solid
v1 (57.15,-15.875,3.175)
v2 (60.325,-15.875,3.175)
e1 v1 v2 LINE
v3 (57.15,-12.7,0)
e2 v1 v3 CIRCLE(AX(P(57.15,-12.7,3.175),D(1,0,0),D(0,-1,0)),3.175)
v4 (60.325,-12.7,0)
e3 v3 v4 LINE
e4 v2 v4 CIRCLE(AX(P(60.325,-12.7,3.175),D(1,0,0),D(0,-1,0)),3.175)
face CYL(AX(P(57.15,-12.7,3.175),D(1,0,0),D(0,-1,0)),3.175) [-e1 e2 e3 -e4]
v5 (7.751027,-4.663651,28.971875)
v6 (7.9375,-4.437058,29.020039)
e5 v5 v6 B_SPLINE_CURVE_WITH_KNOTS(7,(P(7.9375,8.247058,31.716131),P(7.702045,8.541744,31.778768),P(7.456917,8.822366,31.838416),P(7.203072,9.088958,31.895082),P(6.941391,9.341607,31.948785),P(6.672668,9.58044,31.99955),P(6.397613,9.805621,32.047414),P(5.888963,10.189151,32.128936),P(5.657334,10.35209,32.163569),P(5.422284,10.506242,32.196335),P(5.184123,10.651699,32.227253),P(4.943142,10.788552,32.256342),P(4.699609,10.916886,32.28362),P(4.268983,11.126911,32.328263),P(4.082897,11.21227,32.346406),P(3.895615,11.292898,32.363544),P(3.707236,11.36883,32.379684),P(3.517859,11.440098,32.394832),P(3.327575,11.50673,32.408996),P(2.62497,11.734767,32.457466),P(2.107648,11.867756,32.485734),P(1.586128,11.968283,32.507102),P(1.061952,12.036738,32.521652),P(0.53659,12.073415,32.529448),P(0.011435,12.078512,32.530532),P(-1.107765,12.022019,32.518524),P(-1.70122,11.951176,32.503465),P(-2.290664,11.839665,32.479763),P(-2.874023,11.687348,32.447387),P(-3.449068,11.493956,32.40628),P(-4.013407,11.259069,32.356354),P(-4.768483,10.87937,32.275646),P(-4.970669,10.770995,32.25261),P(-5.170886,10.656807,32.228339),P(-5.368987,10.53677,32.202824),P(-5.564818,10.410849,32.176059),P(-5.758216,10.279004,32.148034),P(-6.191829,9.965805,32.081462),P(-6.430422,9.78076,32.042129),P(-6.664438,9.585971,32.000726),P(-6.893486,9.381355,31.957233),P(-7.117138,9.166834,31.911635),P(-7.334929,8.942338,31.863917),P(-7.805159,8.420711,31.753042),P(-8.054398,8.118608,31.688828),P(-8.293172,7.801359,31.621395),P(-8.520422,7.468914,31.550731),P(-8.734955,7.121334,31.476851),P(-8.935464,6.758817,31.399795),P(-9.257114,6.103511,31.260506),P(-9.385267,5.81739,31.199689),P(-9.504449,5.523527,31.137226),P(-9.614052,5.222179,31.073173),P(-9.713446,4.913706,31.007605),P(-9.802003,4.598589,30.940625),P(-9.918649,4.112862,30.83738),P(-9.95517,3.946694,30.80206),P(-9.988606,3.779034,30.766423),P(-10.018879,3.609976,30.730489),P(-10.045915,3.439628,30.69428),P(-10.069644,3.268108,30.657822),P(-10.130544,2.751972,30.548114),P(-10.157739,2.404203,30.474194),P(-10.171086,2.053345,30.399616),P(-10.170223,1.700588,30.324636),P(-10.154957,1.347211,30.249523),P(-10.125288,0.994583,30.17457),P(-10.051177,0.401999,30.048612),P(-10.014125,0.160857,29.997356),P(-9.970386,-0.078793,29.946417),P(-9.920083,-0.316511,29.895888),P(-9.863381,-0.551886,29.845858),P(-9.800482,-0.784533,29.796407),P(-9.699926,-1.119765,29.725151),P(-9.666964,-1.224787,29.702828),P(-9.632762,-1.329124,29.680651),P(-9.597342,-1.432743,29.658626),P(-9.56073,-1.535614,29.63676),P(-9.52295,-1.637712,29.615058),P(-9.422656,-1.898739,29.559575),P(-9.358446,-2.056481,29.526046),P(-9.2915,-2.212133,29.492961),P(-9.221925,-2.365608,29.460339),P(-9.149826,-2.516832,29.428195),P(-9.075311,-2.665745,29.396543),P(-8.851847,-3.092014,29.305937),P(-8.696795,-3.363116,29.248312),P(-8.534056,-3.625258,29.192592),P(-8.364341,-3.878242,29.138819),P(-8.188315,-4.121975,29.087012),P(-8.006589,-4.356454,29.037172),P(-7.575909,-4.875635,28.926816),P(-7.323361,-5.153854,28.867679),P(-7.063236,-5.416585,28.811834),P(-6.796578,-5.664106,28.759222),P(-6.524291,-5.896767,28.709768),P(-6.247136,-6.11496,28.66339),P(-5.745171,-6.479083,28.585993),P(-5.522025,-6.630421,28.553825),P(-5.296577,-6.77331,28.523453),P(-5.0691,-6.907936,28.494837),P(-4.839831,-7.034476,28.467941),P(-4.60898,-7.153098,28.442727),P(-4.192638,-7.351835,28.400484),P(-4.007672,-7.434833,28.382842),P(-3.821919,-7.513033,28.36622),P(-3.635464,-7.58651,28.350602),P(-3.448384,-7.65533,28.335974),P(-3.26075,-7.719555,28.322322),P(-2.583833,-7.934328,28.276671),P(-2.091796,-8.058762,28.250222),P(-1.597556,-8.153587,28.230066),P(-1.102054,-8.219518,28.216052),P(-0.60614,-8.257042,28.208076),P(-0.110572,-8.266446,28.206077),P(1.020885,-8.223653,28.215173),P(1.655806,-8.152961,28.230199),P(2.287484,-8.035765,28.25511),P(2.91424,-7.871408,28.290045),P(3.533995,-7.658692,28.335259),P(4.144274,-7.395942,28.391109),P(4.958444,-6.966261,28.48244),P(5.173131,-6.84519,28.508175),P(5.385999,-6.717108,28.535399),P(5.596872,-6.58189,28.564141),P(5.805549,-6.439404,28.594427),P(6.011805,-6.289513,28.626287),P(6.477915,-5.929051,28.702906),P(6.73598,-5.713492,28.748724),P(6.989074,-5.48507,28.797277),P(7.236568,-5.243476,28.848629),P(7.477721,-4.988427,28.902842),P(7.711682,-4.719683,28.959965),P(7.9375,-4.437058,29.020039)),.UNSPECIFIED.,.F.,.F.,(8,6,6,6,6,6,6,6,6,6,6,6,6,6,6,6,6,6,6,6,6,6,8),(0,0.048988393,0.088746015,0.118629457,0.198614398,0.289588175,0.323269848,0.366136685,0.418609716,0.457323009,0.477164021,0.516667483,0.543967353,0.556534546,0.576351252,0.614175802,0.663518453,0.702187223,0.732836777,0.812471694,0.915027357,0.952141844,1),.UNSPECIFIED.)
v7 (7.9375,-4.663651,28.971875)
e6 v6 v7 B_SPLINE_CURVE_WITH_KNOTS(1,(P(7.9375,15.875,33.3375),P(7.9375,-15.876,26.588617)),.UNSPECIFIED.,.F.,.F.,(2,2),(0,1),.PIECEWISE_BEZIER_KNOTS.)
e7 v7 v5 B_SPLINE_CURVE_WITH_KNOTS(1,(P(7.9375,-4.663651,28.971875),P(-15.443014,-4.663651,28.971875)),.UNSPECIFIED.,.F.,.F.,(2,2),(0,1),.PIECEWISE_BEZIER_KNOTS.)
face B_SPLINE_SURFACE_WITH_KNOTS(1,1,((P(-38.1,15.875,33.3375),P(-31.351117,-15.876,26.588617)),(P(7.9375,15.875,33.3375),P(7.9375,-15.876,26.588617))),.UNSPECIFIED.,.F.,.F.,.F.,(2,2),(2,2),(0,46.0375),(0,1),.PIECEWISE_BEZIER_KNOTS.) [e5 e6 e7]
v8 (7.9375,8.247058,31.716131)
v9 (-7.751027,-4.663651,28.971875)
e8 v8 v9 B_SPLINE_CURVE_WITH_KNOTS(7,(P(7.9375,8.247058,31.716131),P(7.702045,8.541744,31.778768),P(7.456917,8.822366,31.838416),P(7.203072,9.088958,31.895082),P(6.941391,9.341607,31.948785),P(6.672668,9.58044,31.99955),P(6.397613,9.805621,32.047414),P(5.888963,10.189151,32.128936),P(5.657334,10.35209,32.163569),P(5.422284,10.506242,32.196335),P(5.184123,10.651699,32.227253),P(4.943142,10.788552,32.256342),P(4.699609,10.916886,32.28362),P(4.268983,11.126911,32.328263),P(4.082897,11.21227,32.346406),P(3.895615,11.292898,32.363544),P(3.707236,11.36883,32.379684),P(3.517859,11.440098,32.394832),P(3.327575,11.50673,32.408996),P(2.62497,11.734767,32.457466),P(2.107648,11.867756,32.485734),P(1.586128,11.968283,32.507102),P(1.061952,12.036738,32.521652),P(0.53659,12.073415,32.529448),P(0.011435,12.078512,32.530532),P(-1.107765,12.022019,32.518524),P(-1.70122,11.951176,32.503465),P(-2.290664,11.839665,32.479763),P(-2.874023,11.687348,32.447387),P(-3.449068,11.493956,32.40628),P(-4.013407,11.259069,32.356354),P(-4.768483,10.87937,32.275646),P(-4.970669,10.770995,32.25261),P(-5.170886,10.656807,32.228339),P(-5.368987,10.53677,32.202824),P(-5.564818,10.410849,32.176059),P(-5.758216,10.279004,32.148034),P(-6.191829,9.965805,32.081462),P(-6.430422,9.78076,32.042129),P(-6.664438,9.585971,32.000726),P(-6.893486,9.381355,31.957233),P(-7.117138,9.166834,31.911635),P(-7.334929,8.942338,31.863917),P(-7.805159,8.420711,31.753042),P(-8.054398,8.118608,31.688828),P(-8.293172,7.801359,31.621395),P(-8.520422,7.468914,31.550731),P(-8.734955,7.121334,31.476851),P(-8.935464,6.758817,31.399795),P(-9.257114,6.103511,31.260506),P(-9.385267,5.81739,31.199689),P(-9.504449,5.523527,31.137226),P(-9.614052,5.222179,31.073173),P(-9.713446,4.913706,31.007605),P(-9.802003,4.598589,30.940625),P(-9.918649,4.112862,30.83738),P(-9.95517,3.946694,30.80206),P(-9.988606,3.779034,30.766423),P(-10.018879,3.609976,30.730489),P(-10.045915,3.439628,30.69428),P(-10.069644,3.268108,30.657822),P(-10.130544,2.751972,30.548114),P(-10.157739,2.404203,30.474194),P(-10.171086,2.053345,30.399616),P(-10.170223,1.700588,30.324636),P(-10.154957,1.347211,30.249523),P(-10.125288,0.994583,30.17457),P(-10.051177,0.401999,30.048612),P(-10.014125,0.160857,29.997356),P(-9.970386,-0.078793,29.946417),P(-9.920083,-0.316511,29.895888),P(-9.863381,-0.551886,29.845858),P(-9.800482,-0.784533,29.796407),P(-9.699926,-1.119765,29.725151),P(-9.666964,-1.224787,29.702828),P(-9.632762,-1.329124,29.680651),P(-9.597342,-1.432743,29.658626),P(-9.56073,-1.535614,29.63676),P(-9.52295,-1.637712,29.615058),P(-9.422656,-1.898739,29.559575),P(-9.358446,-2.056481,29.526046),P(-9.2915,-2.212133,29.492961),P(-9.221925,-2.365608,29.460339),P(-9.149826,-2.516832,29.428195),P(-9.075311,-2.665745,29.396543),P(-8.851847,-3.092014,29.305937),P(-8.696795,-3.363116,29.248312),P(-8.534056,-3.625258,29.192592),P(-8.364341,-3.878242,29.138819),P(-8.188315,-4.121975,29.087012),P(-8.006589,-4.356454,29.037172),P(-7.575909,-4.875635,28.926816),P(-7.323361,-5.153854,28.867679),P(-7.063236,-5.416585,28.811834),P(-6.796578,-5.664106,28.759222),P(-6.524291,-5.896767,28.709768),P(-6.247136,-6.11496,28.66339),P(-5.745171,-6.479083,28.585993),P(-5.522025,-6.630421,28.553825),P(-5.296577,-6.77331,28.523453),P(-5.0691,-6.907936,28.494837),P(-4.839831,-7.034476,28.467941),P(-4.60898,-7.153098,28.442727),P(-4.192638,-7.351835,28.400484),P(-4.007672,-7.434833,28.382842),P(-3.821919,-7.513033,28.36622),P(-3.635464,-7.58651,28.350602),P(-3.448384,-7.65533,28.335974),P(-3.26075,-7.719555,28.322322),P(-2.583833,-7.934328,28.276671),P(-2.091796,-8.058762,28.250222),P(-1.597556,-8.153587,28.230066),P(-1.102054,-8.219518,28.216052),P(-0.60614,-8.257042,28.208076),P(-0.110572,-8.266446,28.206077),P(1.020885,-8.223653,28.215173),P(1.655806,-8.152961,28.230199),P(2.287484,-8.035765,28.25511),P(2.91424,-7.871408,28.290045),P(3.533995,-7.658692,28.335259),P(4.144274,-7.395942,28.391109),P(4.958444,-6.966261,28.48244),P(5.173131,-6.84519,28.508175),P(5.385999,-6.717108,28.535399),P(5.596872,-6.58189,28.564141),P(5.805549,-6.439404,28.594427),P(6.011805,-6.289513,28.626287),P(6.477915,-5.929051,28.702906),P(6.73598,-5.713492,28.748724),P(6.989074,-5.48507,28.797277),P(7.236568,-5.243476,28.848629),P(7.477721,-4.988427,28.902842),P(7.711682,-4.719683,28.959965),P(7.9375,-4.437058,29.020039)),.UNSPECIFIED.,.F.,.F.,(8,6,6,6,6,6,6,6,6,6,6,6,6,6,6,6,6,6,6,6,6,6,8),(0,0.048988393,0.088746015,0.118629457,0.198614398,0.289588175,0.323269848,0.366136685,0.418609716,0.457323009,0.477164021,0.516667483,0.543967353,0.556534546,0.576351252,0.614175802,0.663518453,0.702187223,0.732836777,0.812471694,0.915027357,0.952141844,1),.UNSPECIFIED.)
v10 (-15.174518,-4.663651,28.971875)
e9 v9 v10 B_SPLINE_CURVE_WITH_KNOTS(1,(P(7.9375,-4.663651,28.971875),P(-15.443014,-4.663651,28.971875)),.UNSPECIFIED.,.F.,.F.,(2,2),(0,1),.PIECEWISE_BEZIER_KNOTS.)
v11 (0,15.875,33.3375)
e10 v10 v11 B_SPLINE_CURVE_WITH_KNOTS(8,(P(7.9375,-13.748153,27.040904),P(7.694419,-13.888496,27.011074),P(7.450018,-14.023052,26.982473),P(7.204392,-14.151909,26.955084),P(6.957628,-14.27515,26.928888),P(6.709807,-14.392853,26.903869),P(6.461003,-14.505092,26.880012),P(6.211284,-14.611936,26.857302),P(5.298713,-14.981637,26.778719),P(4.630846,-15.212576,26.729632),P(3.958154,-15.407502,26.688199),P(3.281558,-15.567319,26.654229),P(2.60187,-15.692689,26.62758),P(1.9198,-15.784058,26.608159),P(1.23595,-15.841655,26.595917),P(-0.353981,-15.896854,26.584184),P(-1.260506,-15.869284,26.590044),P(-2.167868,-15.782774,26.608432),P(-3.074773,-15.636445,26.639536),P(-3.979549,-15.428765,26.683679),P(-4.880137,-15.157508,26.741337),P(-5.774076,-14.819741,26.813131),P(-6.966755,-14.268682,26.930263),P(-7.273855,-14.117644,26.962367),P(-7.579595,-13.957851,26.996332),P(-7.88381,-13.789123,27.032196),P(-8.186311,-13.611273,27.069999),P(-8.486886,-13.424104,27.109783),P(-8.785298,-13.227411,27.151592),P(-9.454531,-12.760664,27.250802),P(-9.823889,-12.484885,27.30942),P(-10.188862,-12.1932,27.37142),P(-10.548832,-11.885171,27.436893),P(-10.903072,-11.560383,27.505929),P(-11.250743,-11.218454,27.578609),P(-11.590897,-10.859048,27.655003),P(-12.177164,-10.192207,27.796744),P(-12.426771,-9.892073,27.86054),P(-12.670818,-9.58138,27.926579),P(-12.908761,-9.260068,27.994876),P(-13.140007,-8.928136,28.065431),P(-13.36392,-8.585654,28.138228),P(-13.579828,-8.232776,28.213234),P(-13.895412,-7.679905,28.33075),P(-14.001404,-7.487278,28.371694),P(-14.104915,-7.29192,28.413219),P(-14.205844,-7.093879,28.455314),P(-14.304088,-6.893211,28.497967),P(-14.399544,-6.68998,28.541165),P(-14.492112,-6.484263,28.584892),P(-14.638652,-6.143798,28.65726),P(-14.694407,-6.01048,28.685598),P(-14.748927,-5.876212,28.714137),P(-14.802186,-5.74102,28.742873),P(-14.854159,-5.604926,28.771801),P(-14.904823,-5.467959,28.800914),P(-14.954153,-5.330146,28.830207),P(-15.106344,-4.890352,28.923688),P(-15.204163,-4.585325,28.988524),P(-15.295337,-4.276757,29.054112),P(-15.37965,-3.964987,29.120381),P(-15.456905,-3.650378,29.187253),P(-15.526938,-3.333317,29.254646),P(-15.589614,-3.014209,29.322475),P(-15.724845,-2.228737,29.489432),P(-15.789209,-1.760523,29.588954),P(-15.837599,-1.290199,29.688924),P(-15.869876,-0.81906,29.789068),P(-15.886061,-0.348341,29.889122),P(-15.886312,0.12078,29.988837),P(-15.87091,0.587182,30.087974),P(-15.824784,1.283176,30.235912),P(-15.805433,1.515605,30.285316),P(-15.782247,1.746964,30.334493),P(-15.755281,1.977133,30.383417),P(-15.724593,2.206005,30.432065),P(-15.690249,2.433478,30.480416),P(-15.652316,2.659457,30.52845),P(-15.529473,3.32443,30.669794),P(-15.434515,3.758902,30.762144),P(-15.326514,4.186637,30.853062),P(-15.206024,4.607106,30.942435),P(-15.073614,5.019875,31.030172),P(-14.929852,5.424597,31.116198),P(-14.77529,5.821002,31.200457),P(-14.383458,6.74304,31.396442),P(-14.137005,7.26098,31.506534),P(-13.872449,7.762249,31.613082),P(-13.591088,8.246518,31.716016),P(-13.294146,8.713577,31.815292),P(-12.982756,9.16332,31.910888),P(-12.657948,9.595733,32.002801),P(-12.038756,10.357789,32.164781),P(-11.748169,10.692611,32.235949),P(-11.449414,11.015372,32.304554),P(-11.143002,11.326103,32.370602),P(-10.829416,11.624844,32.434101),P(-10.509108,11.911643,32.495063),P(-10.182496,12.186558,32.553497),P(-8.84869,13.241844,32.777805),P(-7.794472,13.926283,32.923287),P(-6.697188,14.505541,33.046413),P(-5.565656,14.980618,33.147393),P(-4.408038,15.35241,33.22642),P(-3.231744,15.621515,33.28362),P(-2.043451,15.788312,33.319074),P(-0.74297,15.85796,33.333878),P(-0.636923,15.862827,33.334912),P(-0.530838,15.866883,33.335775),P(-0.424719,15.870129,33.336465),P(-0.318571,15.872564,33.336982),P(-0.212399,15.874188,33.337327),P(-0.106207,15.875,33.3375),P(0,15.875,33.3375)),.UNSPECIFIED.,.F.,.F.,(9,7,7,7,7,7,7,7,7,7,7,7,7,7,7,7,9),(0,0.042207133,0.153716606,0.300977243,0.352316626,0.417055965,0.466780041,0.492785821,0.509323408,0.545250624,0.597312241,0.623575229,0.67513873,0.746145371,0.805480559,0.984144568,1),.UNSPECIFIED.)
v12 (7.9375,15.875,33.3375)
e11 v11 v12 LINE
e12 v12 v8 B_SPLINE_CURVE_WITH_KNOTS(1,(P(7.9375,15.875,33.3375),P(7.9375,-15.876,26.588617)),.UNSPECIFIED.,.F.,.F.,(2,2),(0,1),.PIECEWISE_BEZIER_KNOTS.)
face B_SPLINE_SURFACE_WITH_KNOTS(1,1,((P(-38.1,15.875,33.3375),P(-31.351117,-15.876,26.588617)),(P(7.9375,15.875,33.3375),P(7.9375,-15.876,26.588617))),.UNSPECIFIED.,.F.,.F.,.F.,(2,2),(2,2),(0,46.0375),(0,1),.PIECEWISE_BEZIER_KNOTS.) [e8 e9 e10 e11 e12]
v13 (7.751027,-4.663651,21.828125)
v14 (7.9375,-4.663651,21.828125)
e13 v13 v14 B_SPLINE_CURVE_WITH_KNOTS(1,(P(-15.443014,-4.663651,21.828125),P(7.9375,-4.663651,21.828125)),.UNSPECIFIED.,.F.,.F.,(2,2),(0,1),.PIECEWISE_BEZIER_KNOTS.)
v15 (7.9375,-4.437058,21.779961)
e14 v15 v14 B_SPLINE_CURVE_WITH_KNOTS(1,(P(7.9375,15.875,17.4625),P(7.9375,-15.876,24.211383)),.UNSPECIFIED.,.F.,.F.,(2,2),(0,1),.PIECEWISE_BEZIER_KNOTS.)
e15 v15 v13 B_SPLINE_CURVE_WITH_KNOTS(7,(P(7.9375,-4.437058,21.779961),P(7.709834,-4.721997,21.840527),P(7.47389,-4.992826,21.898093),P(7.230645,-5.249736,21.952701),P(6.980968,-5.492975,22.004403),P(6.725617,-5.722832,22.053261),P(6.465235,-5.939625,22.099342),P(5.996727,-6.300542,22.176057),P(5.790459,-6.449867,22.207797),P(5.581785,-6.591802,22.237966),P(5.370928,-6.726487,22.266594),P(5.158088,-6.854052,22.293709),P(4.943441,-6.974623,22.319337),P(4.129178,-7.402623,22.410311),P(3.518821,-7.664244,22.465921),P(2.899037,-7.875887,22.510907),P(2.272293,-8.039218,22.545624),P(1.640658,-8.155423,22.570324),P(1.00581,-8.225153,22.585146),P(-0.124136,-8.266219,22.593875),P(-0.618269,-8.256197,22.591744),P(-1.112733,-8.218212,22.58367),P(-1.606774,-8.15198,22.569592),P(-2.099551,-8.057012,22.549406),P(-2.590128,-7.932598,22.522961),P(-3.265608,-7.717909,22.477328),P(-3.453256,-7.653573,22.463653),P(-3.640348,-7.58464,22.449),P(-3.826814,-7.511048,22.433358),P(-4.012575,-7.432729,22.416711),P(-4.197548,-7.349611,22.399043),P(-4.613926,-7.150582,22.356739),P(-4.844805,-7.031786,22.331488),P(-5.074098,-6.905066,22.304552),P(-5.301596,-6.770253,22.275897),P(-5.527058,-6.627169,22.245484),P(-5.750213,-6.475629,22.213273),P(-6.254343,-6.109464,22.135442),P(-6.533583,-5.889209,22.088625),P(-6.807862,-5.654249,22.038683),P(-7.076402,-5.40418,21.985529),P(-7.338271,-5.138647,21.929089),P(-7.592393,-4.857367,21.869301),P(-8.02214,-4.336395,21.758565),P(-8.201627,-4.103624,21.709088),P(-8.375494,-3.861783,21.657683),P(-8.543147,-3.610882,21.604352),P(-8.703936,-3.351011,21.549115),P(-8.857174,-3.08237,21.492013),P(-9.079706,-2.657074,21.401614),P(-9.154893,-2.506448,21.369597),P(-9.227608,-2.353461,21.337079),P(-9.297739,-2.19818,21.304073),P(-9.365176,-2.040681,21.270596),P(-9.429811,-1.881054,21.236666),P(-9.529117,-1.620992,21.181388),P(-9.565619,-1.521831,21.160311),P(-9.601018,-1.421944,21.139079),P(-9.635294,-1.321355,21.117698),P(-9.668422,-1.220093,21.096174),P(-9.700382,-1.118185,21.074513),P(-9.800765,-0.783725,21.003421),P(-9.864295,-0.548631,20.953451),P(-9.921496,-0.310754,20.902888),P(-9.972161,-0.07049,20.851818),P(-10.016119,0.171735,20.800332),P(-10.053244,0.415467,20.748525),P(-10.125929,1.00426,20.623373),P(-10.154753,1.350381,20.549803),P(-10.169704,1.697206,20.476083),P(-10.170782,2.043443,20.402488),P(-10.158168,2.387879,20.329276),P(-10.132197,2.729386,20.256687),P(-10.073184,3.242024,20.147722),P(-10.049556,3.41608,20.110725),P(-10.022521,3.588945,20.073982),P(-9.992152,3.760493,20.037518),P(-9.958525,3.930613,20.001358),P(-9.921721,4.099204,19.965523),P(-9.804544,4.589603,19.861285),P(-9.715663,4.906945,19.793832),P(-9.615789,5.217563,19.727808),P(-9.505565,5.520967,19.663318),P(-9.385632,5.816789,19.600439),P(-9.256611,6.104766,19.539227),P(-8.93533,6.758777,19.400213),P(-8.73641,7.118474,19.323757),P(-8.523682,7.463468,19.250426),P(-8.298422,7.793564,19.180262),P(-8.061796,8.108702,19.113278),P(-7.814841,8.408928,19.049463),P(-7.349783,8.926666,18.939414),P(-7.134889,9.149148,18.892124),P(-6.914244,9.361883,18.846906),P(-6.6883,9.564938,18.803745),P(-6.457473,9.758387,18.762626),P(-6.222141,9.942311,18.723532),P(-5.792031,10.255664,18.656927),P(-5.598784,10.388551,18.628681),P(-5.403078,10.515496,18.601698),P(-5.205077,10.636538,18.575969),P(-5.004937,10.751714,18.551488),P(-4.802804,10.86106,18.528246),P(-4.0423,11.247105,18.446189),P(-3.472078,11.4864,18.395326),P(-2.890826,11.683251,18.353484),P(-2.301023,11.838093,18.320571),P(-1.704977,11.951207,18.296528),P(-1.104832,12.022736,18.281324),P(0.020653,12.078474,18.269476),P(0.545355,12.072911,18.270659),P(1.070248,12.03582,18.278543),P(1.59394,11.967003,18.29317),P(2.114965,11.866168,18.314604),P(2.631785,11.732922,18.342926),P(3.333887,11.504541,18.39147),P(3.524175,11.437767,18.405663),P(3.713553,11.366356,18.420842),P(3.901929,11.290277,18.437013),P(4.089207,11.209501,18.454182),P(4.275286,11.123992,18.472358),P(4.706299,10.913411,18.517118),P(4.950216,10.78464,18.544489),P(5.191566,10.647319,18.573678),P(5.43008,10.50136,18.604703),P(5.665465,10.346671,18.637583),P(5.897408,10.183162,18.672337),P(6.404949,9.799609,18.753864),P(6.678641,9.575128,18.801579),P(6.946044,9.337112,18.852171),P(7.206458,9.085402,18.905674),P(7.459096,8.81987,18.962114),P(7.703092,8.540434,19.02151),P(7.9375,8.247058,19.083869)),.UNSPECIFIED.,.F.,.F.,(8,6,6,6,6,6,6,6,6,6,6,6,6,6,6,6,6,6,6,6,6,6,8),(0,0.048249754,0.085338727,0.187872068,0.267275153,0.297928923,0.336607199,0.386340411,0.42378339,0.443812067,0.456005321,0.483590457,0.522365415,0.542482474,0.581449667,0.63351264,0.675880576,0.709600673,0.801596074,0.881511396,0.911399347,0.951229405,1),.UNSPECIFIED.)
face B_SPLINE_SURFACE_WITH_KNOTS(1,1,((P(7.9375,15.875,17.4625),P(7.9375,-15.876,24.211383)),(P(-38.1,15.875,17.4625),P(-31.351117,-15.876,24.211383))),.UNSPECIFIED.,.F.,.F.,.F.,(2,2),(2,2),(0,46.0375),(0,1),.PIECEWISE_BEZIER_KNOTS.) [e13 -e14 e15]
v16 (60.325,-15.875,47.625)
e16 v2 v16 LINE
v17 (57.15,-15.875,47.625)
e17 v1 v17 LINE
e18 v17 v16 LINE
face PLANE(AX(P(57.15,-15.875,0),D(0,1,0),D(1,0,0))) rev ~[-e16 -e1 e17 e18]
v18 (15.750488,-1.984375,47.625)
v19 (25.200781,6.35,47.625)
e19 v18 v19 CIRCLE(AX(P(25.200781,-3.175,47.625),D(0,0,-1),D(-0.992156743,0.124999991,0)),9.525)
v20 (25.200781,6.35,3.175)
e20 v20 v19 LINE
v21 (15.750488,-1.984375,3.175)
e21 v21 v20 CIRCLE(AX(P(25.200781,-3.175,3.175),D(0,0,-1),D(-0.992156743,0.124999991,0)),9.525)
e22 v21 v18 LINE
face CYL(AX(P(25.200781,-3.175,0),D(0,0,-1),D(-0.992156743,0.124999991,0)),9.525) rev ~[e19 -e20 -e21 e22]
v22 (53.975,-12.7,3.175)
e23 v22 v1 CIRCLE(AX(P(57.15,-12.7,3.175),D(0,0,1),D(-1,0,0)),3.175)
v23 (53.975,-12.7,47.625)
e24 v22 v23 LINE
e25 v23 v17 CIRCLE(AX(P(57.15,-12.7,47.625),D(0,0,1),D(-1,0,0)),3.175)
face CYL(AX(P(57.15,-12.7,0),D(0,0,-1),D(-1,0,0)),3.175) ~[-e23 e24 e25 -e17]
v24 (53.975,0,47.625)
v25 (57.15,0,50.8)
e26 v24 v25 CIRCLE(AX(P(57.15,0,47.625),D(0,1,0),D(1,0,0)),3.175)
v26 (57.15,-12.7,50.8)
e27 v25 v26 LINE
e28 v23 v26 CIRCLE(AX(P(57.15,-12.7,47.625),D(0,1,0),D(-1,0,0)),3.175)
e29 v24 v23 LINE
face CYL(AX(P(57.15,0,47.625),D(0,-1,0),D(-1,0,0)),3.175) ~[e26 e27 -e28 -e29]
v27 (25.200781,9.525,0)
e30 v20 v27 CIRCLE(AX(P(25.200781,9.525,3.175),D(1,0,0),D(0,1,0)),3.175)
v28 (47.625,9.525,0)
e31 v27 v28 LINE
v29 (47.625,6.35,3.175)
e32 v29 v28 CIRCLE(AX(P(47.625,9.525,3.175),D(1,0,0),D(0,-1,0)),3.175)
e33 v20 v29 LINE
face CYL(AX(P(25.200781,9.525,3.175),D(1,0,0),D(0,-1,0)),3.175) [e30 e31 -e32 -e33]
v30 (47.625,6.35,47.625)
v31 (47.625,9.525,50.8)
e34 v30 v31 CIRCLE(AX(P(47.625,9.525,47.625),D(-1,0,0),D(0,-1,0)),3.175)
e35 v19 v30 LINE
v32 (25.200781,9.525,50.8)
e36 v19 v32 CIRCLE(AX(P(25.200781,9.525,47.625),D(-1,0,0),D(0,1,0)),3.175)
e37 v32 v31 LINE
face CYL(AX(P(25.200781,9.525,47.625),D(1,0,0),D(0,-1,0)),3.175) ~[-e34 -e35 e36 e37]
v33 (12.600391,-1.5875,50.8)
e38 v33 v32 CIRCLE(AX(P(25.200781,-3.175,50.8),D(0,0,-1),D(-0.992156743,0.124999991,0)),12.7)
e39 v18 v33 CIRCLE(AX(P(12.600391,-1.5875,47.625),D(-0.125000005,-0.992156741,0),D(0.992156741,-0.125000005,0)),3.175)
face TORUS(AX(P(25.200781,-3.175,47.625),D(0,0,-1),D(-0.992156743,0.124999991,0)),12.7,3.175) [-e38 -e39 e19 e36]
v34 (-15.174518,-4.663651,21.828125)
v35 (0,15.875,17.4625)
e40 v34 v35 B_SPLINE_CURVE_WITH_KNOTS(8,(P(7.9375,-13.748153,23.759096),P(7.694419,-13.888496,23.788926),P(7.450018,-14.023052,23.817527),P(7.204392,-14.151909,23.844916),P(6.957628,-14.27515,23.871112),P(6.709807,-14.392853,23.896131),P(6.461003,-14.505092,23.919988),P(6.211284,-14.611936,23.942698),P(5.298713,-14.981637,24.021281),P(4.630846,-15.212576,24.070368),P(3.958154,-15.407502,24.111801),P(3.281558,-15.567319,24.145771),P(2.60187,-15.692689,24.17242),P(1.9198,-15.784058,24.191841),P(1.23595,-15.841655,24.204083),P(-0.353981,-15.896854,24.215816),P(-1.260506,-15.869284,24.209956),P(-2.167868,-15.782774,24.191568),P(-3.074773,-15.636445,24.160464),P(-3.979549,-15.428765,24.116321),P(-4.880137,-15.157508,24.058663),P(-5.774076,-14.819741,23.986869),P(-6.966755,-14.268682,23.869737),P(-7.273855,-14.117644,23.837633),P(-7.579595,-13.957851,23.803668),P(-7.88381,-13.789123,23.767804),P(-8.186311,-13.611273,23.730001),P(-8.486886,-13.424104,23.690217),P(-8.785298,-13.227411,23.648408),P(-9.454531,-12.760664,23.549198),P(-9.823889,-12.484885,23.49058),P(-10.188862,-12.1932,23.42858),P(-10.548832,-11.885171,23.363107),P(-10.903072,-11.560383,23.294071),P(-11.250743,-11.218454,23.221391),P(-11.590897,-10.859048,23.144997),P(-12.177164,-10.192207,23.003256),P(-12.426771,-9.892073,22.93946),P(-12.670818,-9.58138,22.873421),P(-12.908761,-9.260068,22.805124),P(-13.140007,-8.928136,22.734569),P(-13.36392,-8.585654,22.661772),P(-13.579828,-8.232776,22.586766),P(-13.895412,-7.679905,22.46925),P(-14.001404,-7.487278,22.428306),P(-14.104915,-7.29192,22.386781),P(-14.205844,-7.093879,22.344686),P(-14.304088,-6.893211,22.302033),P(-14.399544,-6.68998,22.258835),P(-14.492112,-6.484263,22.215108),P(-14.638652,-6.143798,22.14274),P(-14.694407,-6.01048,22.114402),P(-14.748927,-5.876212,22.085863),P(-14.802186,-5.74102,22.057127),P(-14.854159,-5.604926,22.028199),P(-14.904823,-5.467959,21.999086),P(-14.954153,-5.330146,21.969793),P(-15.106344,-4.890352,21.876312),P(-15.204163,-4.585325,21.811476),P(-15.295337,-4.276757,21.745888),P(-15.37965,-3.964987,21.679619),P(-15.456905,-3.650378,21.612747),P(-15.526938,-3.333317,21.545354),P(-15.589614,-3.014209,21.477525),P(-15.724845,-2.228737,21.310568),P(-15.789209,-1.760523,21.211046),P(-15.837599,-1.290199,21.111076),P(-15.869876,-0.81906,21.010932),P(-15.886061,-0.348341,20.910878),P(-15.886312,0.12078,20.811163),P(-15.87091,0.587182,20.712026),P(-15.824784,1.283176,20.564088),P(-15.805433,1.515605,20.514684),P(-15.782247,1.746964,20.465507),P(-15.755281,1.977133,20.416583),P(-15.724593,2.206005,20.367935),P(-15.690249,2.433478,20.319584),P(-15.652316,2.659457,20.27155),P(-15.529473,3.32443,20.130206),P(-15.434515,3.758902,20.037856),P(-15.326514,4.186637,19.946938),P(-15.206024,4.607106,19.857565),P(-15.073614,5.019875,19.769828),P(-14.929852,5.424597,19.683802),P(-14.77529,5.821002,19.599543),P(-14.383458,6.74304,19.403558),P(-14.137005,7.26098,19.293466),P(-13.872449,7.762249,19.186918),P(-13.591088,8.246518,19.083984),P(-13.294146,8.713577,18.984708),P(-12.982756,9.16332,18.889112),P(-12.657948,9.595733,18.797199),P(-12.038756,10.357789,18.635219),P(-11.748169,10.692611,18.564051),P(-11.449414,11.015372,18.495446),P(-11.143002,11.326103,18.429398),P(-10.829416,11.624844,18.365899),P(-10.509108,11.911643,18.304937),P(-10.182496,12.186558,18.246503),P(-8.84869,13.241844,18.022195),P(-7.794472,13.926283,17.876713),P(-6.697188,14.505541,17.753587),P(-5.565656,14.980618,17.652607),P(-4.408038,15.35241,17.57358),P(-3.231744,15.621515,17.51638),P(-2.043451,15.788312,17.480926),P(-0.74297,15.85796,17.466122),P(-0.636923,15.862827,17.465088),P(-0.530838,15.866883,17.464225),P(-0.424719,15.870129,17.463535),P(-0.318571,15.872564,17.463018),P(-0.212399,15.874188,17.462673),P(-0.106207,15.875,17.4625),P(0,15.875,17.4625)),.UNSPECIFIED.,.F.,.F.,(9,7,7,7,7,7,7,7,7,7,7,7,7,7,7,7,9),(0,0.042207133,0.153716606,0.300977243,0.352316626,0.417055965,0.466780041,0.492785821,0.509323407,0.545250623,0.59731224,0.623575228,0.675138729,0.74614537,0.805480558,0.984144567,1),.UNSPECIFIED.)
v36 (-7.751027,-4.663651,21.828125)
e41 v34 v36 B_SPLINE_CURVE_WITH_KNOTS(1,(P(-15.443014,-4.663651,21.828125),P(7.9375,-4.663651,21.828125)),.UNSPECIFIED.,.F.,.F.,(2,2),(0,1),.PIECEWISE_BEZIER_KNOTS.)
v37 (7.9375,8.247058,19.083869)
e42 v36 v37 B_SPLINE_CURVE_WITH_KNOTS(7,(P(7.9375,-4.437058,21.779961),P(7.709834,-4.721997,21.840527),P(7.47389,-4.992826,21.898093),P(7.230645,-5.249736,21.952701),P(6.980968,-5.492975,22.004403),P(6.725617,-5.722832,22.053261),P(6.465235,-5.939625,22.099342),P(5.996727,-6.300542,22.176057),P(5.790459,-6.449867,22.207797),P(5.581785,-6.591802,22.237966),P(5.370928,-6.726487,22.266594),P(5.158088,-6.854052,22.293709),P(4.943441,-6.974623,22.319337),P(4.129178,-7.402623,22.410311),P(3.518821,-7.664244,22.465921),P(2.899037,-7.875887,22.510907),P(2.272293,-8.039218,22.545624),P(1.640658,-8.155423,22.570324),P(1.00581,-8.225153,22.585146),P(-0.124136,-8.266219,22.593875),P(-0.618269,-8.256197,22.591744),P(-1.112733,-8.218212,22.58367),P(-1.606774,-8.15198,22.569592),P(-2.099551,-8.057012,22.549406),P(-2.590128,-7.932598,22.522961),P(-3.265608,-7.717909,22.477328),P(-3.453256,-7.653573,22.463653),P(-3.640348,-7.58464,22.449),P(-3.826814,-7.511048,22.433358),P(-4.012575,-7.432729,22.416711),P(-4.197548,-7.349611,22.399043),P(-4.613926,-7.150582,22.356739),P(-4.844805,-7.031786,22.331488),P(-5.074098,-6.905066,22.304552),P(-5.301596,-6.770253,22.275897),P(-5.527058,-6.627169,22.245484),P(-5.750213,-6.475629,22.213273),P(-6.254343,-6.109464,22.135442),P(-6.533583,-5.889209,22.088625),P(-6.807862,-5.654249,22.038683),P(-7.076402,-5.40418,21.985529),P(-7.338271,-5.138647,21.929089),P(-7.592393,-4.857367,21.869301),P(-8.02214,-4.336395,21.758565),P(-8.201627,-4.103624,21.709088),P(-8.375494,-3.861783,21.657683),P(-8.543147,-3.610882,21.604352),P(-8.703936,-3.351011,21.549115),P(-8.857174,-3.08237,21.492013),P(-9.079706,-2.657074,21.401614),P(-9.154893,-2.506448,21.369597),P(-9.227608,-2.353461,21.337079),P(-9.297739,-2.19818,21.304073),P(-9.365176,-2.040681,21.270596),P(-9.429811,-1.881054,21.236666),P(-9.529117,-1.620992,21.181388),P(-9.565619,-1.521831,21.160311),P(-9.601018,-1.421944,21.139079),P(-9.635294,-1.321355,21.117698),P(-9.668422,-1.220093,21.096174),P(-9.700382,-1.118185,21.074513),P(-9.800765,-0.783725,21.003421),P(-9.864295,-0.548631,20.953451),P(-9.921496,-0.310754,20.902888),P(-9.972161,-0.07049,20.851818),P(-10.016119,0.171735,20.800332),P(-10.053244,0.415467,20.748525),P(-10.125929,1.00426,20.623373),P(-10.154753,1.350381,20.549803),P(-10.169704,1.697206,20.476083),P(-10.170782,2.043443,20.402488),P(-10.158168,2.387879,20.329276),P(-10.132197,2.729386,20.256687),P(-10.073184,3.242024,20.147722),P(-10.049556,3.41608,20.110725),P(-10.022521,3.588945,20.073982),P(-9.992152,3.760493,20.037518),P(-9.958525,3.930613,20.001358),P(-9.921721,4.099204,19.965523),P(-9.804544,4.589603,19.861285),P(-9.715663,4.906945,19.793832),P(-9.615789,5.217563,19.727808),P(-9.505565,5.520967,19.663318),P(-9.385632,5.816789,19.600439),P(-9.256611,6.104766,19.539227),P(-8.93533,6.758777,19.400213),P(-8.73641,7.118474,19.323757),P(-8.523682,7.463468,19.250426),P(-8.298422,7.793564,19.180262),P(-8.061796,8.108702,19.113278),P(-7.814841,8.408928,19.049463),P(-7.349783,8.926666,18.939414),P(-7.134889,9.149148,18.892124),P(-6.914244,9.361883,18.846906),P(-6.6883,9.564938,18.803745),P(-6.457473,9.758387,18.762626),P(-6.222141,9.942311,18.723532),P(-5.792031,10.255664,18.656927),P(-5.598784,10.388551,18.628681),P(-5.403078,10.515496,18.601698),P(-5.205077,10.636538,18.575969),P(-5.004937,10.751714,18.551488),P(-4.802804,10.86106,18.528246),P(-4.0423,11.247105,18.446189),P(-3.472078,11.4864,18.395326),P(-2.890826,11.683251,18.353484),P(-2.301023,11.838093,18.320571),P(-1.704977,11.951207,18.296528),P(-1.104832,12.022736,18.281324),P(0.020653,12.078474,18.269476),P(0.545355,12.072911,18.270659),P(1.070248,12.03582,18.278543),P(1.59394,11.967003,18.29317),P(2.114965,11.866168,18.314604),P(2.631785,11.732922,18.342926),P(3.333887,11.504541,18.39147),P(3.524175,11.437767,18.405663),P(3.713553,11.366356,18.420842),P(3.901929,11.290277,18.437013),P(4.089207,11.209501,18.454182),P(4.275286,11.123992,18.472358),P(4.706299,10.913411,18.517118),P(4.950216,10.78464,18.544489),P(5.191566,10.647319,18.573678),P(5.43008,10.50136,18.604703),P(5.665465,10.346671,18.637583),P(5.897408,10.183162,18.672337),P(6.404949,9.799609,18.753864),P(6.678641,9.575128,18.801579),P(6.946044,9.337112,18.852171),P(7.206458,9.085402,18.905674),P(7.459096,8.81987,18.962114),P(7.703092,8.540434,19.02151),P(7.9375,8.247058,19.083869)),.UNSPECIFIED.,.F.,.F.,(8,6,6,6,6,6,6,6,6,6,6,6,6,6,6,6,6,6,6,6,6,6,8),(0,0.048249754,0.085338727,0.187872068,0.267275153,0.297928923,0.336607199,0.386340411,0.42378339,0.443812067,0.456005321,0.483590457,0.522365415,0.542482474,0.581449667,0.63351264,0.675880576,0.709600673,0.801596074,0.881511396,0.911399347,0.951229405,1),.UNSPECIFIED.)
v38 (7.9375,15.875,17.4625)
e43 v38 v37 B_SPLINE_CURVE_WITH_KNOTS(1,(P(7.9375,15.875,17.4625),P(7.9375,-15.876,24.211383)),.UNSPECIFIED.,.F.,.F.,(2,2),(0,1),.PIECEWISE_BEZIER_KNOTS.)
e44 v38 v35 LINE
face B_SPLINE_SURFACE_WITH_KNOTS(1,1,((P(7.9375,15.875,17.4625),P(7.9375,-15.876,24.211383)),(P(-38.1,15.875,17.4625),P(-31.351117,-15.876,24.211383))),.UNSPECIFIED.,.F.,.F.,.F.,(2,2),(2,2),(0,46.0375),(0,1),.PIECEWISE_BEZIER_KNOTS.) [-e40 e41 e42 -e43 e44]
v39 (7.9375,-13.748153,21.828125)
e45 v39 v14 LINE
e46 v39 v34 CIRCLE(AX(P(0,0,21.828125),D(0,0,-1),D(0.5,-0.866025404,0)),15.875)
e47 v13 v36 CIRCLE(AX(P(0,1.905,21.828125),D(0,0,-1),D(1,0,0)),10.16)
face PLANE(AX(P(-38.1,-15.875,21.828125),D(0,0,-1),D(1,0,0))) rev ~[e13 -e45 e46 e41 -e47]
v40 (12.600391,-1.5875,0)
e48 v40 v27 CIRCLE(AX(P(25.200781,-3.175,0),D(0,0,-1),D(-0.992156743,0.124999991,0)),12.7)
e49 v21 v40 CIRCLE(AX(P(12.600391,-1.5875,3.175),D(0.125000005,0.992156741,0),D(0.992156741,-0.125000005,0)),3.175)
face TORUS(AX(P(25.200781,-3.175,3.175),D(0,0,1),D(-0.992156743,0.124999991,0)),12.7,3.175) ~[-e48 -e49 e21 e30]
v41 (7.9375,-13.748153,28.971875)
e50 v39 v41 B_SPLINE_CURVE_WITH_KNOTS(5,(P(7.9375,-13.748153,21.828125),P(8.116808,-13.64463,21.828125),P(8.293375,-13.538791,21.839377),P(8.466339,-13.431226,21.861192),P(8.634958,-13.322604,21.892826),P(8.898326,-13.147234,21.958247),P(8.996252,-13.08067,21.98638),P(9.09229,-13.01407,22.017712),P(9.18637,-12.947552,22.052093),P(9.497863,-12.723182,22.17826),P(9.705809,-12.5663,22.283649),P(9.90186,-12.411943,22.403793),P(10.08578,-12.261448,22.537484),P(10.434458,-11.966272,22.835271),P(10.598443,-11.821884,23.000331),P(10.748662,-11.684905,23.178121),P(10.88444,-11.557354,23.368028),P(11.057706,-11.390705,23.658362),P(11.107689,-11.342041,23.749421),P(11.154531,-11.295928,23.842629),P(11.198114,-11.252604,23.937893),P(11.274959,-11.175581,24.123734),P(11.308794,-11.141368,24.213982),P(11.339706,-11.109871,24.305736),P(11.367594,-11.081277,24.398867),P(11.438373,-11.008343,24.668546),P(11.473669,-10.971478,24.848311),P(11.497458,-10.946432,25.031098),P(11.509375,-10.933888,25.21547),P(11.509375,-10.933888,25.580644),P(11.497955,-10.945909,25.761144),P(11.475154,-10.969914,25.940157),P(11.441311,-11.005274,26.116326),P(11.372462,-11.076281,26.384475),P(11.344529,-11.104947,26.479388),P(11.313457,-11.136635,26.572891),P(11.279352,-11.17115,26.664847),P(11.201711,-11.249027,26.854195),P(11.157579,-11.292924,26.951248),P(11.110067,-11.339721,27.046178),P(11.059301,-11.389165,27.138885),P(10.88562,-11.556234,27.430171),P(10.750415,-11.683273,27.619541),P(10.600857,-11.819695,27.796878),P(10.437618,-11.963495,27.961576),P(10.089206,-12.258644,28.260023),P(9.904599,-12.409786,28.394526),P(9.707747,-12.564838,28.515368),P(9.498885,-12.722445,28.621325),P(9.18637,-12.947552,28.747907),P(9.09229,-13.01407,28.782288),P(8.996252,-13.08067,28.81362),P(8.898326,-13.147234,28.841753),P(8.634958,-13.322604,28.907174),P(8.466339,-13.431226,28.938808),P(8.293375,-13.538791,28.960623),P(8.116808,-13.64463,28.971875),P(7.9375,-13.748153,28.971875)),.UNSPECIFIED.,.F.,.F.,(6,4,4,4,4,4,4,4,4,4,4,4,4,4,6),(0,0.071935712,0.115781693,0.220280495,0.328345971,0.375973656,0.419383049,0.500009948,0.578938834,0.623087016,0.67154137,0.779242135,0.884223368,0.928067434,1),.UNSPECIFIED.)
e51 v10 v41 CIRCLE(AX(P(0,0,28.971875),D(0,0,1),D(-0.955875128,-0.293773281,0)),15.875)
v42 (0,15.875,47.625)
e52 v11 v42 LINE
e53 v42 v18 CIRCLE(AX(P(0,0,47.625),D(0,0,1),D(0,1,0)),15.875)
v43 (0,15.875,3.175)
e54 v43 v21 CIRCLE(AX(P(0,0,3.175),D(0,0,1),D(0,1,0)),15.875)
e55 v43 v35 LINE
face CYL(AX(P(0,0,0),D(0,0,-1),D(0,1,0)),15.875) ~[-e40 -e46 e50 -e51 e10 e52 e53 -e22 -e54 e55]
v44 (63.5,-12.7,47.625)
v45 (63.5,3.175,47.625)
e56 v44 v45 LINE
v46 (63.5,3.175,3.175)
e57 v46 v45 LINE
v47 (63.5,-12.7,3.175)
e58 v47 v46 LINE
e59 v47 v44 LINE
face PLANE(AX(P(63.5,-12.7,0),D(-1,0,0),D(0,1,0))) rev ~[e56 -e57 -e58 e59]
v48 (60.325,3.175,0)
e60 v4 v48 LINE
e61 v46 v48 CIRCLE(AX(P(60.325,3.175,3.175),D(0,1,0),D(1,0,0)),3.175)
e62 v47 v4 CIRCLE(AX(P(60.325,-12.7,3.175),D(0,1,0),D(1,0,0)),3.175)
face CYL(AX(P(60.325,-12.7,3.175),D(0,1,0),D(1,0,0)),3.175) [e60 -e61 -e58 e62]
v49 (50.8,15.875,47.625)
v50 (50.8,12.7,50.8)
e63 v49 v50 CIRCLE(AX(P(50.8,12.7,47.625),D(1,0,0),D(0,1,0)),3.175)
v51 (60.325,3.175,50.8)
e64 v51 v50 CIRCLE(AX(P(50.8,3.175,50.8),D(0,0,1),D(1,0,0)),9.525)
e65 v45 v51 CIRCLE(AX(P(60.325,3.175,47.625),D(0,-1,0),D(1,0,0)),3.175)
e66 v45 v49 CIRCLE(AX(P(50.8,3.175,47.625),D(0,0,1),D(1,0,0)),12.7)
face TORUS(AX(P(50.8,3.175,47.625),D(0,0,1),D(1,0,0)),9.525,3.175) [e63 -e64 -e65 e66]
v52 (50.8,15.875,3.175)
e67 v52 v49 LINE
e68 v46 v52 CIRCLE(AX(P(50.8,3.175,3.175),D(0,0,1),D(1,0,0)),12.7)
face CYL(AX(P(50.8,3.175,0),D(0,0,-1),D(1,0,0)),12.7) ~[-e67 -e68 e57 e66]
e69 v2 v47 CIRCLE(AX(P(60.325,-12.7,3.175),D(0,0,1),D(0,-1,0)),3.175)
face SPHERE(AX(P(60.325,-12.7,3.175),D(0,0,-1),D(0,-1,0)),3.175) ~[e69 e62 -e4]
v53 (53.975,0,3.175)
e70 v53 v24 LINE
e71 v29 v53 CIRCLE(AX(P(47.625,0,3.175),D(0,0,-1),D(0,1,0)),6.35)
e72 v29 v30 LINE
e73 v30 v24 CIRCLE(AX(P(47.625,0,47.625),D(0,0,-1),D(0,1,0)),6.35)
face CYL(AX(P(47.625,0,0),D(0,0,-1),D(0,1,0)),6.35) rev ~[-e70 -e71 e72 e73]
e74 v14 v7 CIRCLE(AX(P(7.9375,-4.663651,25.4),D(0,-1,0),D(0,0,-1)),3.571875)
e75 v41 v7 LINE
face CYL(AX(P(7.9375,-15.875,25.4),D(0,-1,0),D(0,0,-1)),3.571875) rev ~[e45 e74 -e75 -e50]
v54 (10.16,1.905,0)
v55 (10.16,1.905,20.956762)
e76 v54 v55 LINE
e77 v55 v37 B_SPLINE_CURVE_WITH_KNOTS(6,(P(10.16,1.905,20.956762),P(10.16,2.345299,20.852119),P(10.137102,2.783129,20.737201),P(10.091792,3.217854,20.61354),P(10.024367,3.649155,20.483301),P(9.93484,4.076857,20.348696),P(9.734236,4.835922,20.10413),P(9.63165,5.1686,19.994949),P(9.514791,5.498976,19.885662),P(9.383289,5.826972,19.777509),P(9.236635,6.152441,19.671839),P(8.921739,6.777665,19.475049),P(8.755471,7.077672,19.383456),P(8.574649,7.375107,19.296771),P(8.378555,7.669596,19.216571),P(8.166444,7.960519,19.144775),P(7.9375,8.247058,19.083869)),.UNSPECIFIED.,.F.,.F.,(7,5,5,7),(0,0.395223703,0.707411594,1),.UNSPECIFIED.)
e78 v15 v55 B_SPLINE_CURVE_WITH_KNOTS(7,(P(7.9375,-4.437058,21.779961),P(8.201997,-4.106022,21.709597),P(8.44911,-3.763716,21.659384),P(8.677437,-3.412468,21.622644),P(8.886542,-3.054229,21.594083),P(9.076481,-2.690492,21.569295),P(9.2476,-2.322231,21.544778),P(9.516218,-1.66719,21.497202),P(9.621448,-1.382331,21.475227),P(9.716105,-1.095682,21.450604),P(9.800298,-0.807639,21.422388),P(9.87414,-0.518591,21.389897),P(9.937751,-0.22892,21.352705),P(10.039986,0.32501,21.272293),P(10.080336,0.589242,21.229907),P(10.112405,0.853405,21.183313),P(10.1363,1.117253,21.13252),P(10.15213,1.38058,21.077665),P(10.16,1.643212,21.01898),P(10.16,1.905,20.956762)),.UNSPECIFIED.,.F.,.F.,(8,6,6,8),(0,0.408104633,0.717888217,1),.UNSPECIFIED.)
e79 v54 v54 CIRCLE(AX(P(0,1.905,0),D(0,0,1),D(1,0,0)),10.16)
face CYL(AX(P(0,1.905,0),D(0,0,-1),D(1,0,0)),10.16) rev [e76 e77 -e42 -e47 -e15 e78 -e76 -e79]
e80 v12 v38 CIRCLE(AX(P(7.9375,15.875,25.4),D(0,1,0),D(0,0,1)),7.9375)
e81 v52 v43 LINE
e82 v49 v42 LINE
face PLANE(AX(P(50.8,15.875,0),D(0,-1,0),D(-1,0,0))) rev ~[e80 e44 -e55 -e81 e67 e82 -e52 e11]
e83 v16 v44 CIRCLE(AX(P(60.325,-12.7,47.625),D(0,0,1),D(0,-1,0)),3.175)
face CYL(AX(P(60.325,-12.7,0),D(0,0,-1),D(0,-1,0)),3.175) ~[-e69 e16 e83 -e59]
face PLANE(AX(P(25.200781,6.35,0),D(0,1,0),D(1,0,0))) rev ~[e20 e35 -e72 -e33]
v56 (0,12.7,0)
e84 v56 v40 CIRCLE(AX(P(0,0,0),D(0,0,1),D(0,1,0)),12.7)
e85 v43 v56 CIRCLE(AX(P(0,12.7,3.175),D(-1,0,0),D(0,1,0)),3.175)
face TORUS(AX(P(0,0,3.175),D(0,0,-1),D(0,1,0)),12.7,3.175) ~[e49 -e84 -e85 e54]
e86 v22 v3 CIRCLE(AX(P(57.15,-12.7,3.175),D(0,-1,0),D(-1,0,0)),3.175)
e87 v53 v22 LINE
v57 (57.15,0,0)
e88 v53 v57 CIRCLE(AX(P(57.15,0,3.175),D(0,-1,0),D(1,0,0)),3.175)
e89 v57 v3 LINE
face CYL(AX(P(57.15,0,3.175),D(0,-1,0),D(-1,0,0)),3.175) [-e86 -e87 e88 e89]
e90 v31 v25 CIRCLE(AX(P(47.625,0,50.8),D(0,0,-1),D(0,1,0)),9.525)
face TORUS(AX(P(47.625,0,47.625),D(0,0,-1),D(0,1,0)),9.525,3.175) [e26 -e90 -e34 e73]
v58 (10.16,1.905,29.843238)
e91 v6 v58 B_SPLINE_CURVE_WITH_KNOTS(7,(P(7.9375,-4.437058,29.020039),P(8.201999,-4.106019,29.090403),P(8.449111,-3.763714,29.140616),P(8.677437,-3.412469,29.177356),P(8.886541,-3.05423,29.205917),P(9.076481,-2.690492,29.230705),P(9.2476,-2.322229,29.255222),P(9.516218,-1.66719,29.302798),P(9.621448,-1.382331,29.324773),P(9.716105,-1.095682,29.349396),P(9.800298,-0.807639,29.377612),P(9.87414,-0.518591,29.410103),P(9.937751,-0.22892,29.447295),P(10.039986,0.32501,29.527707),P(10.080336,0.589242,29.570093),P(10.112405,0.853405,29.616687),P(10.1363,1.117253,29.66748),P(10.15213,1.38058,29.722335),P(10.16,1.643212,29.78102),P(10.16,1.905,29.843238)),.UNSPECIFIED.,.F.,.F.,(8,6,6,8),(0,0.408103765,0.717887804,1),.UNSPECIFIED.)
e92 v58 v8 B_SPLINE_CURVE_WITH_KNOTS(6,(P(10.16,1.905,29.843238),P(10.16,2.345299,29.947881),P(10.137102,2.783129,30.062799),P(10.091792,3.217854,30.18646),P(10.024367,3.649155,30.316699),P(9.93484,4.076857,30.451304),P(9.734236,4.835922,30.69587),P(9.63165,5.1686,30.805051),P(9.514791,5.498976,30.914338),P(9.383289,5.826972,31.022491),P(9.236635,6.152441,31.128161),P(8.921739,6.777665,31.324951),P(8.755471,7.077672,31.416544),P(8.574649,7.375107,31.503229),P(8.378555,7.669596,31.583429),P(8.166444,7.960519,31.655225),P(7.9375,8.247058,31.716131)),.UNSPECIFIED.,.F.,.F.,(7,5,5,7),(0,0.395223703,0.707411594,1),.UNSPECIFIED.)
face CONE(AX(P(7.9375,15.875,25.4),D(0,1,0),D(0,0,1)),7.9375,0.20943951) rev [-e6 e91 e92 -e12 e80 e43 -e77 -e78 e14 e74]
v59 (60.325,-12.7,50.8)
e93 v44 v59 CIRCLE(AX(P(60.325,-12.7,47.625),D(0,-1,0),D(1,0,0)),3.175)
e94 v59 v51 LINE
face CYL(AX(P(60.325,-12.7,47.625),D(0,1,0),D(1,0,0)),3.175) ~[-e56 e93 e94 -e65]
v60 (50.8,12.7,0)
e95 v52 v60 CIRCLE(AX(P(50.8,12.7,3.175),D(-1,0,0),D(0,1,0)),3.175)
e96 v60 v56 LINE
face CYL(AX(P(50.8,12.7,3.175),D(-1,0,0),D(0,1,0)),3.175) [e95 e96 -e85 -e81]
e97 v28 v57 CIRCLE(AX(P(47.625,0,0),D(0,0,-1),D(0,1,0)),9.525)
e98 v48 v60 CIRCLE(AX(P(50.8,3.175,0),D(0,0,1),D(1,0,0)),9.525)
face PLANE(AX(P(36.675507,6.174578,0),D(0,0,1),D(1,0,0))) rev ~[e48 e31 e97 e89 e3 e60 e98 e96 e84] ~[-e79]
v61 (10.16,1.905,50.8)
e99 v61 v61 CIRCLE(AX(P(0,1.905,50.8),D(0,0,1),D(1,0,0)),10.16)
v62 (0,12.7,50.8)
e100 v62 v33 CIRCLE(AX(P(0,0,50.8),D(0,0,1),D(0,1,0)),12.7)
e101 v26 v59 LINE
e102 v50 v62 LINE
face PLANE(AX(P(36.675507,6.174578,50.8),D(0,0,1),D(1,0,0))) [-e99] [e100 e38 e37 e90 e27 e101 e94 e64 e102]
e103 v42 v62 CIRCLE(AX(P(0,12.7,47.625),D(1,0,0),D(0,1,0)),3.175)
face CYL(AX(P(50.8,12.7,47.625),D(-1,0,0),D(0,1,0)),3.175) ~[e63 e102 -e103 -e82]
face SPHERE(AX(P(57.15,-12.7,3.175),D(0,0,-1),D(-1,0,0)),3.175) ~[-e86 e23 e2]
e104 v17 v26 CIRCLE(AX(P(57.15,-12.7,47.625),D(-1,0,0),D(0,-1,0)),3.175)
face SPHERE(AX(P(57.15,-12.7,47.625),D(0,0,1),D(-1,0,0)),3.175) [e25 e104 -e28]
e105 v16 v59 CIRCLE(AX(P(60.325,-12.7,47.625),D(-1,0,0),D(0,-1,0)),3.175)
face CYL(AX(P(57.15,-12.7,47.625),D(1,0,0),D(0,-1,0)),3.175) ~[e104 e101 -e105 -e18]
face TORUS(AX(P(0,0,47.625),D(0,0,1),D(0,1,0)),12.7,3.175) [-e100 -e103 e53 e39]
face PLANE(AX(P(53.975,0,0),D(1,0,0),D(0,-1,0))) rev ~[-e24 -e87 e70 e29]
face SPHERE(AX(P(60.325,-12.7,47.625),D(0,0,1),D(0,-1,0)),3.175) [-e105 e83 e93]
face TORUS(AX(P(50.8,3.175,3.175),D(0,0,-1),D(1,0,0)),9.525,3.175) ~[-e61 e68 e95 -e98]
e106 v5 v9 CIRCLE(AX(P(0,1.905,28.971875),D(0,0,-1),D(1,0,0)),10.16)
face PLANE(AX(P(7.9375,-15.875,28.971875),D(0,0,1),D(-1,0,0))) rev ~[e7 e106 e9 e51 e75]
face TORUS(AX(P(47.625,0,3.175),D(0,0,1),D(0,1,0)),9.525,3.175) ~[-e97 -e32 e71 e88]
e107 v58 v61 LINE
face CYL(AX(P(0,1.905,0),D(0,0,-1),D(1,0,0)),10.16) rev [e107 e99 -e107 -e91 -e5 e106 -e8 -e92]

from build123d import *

# Parameters (mm, degrees)
F0_R     = 10.16
F1_DEPTH = 50.8
F3_R     = 3.175
F2_W     = 38.1
F2_H     = 15.875
F5_DEPTH = 31.751
F5_TAPER = 12
F6_DEPTH = 25.4


with BuildPart() as f1:
    # F0 (on Top) → F1 (new body)
    with BuildSketch(Plane.XY):
        with BuildLine():
            ThreePointArc((0, 15.875), (11.2253201513, 11.2253201513), (15.875, 0))
            ThreePointArc((15.875, 0), (15.8438414877, -0.9941387788), (15.7504882631, -1.9843750839))
            ThreePointArc((15.7504882631, -1.9843750839), (18.9005858967, 3.968749972), (25.2007812379, 6.35))
            Line((25.2007812379, 6.35), (47.625, 6.35))
            ThreePointArc((47.625, 6.35), (52.1151280605, 4.4901280605), (53.975, 0))
            Line((53.975, 0), (53.975, -12.7))
            ThreePointArc((53.975, -12.7), (54.9049359697, -14.9450640303), (57.15, -15.875))
            Line((57.15, -15.875), (60.325, -15.875))
            ThreePointArc((60.325, -15.875), (62.5700640303, -14.9450640303), (63.5, -12.7))
            Line((63.5, -12.7), (63.5, 3.175))
            ThreePointArc((63.5, 3.175), (59.7802561211, 12.1552561211), (50.8, 15.875))
            Line((50.8, 15.875), (0, 15.875))
        make_face()
        with BuildLine():
            ThreePointArc((15.7504882631, -1.9843750839), (15.8438414877, -0.9941387788), (15.875, 0))
            ThreePointArc((15.875, 0), (11.2253201513, 11.2253201513), (0, 15.875))
            ThreePointArc((0, 15.875), (-11.906250028, -10.5003254841), (15.7504882631, -1.9843750839))
        make_face()
        with Locations((0, 1.905)):
            Circle(F0_R, mode=Mode.SUBTRACT)
    extrude(amount=F1_DEPTH)

    # F3
    f3_edges = [f1.edges().sort_by_distance(p)[0] for p in [
        (25.4, 15.875, 0),
        (25.4, 15.875, 50.8),
    ]]
    fillet(f3_edges, radius=F3_R)

    # F2 (on face) → F5 (cut, through all)
    with BuildSketch(Plane(origin=(0, 15.875, 0), x_dir=(-1, 0, 0), z_dir=(0, 1, 0))):
        with BuildLine():
            ThreePointArc((-7.9375, 33.3375), (-15.875, 25.4), (-7.9375, 17.4625))
            Line((-7.9375, 17.4625), (0, 17.4625))
            Line((0, 17.4625), (0, 33.3375))
            Line((0, 33.3375), (-7.9375, 33.3375))
        make_face()
        with Locations((19.05, 25.4)):
            Rectangle(F2_W, F2_H)
    extrude(amount=-F5_DEPTH, taper=F5_TAPER, mode=Mode.SUBTRACT)

    # F4 (on face) → F6 (cut)
    with BuildSketch(Plane.XZ.offset(15.875)):
        with BuildLine():
            Line((-38.1, 21.828125), (7.9375, 21.828125))
            ThreePointArc((7.9375, 21.828125), (11.509375, 25.4), (7.9375, 28.971875))
            Line((7.9375, 28.971875), (-38.1, 28.971875))
            Line((-38.1, 28.971875), (-38.1, 21.828125))
        make_face()
    extrude(amount=-F6_DEPTH, mode=Mode.SUBTRACT)


solid = f1.part
